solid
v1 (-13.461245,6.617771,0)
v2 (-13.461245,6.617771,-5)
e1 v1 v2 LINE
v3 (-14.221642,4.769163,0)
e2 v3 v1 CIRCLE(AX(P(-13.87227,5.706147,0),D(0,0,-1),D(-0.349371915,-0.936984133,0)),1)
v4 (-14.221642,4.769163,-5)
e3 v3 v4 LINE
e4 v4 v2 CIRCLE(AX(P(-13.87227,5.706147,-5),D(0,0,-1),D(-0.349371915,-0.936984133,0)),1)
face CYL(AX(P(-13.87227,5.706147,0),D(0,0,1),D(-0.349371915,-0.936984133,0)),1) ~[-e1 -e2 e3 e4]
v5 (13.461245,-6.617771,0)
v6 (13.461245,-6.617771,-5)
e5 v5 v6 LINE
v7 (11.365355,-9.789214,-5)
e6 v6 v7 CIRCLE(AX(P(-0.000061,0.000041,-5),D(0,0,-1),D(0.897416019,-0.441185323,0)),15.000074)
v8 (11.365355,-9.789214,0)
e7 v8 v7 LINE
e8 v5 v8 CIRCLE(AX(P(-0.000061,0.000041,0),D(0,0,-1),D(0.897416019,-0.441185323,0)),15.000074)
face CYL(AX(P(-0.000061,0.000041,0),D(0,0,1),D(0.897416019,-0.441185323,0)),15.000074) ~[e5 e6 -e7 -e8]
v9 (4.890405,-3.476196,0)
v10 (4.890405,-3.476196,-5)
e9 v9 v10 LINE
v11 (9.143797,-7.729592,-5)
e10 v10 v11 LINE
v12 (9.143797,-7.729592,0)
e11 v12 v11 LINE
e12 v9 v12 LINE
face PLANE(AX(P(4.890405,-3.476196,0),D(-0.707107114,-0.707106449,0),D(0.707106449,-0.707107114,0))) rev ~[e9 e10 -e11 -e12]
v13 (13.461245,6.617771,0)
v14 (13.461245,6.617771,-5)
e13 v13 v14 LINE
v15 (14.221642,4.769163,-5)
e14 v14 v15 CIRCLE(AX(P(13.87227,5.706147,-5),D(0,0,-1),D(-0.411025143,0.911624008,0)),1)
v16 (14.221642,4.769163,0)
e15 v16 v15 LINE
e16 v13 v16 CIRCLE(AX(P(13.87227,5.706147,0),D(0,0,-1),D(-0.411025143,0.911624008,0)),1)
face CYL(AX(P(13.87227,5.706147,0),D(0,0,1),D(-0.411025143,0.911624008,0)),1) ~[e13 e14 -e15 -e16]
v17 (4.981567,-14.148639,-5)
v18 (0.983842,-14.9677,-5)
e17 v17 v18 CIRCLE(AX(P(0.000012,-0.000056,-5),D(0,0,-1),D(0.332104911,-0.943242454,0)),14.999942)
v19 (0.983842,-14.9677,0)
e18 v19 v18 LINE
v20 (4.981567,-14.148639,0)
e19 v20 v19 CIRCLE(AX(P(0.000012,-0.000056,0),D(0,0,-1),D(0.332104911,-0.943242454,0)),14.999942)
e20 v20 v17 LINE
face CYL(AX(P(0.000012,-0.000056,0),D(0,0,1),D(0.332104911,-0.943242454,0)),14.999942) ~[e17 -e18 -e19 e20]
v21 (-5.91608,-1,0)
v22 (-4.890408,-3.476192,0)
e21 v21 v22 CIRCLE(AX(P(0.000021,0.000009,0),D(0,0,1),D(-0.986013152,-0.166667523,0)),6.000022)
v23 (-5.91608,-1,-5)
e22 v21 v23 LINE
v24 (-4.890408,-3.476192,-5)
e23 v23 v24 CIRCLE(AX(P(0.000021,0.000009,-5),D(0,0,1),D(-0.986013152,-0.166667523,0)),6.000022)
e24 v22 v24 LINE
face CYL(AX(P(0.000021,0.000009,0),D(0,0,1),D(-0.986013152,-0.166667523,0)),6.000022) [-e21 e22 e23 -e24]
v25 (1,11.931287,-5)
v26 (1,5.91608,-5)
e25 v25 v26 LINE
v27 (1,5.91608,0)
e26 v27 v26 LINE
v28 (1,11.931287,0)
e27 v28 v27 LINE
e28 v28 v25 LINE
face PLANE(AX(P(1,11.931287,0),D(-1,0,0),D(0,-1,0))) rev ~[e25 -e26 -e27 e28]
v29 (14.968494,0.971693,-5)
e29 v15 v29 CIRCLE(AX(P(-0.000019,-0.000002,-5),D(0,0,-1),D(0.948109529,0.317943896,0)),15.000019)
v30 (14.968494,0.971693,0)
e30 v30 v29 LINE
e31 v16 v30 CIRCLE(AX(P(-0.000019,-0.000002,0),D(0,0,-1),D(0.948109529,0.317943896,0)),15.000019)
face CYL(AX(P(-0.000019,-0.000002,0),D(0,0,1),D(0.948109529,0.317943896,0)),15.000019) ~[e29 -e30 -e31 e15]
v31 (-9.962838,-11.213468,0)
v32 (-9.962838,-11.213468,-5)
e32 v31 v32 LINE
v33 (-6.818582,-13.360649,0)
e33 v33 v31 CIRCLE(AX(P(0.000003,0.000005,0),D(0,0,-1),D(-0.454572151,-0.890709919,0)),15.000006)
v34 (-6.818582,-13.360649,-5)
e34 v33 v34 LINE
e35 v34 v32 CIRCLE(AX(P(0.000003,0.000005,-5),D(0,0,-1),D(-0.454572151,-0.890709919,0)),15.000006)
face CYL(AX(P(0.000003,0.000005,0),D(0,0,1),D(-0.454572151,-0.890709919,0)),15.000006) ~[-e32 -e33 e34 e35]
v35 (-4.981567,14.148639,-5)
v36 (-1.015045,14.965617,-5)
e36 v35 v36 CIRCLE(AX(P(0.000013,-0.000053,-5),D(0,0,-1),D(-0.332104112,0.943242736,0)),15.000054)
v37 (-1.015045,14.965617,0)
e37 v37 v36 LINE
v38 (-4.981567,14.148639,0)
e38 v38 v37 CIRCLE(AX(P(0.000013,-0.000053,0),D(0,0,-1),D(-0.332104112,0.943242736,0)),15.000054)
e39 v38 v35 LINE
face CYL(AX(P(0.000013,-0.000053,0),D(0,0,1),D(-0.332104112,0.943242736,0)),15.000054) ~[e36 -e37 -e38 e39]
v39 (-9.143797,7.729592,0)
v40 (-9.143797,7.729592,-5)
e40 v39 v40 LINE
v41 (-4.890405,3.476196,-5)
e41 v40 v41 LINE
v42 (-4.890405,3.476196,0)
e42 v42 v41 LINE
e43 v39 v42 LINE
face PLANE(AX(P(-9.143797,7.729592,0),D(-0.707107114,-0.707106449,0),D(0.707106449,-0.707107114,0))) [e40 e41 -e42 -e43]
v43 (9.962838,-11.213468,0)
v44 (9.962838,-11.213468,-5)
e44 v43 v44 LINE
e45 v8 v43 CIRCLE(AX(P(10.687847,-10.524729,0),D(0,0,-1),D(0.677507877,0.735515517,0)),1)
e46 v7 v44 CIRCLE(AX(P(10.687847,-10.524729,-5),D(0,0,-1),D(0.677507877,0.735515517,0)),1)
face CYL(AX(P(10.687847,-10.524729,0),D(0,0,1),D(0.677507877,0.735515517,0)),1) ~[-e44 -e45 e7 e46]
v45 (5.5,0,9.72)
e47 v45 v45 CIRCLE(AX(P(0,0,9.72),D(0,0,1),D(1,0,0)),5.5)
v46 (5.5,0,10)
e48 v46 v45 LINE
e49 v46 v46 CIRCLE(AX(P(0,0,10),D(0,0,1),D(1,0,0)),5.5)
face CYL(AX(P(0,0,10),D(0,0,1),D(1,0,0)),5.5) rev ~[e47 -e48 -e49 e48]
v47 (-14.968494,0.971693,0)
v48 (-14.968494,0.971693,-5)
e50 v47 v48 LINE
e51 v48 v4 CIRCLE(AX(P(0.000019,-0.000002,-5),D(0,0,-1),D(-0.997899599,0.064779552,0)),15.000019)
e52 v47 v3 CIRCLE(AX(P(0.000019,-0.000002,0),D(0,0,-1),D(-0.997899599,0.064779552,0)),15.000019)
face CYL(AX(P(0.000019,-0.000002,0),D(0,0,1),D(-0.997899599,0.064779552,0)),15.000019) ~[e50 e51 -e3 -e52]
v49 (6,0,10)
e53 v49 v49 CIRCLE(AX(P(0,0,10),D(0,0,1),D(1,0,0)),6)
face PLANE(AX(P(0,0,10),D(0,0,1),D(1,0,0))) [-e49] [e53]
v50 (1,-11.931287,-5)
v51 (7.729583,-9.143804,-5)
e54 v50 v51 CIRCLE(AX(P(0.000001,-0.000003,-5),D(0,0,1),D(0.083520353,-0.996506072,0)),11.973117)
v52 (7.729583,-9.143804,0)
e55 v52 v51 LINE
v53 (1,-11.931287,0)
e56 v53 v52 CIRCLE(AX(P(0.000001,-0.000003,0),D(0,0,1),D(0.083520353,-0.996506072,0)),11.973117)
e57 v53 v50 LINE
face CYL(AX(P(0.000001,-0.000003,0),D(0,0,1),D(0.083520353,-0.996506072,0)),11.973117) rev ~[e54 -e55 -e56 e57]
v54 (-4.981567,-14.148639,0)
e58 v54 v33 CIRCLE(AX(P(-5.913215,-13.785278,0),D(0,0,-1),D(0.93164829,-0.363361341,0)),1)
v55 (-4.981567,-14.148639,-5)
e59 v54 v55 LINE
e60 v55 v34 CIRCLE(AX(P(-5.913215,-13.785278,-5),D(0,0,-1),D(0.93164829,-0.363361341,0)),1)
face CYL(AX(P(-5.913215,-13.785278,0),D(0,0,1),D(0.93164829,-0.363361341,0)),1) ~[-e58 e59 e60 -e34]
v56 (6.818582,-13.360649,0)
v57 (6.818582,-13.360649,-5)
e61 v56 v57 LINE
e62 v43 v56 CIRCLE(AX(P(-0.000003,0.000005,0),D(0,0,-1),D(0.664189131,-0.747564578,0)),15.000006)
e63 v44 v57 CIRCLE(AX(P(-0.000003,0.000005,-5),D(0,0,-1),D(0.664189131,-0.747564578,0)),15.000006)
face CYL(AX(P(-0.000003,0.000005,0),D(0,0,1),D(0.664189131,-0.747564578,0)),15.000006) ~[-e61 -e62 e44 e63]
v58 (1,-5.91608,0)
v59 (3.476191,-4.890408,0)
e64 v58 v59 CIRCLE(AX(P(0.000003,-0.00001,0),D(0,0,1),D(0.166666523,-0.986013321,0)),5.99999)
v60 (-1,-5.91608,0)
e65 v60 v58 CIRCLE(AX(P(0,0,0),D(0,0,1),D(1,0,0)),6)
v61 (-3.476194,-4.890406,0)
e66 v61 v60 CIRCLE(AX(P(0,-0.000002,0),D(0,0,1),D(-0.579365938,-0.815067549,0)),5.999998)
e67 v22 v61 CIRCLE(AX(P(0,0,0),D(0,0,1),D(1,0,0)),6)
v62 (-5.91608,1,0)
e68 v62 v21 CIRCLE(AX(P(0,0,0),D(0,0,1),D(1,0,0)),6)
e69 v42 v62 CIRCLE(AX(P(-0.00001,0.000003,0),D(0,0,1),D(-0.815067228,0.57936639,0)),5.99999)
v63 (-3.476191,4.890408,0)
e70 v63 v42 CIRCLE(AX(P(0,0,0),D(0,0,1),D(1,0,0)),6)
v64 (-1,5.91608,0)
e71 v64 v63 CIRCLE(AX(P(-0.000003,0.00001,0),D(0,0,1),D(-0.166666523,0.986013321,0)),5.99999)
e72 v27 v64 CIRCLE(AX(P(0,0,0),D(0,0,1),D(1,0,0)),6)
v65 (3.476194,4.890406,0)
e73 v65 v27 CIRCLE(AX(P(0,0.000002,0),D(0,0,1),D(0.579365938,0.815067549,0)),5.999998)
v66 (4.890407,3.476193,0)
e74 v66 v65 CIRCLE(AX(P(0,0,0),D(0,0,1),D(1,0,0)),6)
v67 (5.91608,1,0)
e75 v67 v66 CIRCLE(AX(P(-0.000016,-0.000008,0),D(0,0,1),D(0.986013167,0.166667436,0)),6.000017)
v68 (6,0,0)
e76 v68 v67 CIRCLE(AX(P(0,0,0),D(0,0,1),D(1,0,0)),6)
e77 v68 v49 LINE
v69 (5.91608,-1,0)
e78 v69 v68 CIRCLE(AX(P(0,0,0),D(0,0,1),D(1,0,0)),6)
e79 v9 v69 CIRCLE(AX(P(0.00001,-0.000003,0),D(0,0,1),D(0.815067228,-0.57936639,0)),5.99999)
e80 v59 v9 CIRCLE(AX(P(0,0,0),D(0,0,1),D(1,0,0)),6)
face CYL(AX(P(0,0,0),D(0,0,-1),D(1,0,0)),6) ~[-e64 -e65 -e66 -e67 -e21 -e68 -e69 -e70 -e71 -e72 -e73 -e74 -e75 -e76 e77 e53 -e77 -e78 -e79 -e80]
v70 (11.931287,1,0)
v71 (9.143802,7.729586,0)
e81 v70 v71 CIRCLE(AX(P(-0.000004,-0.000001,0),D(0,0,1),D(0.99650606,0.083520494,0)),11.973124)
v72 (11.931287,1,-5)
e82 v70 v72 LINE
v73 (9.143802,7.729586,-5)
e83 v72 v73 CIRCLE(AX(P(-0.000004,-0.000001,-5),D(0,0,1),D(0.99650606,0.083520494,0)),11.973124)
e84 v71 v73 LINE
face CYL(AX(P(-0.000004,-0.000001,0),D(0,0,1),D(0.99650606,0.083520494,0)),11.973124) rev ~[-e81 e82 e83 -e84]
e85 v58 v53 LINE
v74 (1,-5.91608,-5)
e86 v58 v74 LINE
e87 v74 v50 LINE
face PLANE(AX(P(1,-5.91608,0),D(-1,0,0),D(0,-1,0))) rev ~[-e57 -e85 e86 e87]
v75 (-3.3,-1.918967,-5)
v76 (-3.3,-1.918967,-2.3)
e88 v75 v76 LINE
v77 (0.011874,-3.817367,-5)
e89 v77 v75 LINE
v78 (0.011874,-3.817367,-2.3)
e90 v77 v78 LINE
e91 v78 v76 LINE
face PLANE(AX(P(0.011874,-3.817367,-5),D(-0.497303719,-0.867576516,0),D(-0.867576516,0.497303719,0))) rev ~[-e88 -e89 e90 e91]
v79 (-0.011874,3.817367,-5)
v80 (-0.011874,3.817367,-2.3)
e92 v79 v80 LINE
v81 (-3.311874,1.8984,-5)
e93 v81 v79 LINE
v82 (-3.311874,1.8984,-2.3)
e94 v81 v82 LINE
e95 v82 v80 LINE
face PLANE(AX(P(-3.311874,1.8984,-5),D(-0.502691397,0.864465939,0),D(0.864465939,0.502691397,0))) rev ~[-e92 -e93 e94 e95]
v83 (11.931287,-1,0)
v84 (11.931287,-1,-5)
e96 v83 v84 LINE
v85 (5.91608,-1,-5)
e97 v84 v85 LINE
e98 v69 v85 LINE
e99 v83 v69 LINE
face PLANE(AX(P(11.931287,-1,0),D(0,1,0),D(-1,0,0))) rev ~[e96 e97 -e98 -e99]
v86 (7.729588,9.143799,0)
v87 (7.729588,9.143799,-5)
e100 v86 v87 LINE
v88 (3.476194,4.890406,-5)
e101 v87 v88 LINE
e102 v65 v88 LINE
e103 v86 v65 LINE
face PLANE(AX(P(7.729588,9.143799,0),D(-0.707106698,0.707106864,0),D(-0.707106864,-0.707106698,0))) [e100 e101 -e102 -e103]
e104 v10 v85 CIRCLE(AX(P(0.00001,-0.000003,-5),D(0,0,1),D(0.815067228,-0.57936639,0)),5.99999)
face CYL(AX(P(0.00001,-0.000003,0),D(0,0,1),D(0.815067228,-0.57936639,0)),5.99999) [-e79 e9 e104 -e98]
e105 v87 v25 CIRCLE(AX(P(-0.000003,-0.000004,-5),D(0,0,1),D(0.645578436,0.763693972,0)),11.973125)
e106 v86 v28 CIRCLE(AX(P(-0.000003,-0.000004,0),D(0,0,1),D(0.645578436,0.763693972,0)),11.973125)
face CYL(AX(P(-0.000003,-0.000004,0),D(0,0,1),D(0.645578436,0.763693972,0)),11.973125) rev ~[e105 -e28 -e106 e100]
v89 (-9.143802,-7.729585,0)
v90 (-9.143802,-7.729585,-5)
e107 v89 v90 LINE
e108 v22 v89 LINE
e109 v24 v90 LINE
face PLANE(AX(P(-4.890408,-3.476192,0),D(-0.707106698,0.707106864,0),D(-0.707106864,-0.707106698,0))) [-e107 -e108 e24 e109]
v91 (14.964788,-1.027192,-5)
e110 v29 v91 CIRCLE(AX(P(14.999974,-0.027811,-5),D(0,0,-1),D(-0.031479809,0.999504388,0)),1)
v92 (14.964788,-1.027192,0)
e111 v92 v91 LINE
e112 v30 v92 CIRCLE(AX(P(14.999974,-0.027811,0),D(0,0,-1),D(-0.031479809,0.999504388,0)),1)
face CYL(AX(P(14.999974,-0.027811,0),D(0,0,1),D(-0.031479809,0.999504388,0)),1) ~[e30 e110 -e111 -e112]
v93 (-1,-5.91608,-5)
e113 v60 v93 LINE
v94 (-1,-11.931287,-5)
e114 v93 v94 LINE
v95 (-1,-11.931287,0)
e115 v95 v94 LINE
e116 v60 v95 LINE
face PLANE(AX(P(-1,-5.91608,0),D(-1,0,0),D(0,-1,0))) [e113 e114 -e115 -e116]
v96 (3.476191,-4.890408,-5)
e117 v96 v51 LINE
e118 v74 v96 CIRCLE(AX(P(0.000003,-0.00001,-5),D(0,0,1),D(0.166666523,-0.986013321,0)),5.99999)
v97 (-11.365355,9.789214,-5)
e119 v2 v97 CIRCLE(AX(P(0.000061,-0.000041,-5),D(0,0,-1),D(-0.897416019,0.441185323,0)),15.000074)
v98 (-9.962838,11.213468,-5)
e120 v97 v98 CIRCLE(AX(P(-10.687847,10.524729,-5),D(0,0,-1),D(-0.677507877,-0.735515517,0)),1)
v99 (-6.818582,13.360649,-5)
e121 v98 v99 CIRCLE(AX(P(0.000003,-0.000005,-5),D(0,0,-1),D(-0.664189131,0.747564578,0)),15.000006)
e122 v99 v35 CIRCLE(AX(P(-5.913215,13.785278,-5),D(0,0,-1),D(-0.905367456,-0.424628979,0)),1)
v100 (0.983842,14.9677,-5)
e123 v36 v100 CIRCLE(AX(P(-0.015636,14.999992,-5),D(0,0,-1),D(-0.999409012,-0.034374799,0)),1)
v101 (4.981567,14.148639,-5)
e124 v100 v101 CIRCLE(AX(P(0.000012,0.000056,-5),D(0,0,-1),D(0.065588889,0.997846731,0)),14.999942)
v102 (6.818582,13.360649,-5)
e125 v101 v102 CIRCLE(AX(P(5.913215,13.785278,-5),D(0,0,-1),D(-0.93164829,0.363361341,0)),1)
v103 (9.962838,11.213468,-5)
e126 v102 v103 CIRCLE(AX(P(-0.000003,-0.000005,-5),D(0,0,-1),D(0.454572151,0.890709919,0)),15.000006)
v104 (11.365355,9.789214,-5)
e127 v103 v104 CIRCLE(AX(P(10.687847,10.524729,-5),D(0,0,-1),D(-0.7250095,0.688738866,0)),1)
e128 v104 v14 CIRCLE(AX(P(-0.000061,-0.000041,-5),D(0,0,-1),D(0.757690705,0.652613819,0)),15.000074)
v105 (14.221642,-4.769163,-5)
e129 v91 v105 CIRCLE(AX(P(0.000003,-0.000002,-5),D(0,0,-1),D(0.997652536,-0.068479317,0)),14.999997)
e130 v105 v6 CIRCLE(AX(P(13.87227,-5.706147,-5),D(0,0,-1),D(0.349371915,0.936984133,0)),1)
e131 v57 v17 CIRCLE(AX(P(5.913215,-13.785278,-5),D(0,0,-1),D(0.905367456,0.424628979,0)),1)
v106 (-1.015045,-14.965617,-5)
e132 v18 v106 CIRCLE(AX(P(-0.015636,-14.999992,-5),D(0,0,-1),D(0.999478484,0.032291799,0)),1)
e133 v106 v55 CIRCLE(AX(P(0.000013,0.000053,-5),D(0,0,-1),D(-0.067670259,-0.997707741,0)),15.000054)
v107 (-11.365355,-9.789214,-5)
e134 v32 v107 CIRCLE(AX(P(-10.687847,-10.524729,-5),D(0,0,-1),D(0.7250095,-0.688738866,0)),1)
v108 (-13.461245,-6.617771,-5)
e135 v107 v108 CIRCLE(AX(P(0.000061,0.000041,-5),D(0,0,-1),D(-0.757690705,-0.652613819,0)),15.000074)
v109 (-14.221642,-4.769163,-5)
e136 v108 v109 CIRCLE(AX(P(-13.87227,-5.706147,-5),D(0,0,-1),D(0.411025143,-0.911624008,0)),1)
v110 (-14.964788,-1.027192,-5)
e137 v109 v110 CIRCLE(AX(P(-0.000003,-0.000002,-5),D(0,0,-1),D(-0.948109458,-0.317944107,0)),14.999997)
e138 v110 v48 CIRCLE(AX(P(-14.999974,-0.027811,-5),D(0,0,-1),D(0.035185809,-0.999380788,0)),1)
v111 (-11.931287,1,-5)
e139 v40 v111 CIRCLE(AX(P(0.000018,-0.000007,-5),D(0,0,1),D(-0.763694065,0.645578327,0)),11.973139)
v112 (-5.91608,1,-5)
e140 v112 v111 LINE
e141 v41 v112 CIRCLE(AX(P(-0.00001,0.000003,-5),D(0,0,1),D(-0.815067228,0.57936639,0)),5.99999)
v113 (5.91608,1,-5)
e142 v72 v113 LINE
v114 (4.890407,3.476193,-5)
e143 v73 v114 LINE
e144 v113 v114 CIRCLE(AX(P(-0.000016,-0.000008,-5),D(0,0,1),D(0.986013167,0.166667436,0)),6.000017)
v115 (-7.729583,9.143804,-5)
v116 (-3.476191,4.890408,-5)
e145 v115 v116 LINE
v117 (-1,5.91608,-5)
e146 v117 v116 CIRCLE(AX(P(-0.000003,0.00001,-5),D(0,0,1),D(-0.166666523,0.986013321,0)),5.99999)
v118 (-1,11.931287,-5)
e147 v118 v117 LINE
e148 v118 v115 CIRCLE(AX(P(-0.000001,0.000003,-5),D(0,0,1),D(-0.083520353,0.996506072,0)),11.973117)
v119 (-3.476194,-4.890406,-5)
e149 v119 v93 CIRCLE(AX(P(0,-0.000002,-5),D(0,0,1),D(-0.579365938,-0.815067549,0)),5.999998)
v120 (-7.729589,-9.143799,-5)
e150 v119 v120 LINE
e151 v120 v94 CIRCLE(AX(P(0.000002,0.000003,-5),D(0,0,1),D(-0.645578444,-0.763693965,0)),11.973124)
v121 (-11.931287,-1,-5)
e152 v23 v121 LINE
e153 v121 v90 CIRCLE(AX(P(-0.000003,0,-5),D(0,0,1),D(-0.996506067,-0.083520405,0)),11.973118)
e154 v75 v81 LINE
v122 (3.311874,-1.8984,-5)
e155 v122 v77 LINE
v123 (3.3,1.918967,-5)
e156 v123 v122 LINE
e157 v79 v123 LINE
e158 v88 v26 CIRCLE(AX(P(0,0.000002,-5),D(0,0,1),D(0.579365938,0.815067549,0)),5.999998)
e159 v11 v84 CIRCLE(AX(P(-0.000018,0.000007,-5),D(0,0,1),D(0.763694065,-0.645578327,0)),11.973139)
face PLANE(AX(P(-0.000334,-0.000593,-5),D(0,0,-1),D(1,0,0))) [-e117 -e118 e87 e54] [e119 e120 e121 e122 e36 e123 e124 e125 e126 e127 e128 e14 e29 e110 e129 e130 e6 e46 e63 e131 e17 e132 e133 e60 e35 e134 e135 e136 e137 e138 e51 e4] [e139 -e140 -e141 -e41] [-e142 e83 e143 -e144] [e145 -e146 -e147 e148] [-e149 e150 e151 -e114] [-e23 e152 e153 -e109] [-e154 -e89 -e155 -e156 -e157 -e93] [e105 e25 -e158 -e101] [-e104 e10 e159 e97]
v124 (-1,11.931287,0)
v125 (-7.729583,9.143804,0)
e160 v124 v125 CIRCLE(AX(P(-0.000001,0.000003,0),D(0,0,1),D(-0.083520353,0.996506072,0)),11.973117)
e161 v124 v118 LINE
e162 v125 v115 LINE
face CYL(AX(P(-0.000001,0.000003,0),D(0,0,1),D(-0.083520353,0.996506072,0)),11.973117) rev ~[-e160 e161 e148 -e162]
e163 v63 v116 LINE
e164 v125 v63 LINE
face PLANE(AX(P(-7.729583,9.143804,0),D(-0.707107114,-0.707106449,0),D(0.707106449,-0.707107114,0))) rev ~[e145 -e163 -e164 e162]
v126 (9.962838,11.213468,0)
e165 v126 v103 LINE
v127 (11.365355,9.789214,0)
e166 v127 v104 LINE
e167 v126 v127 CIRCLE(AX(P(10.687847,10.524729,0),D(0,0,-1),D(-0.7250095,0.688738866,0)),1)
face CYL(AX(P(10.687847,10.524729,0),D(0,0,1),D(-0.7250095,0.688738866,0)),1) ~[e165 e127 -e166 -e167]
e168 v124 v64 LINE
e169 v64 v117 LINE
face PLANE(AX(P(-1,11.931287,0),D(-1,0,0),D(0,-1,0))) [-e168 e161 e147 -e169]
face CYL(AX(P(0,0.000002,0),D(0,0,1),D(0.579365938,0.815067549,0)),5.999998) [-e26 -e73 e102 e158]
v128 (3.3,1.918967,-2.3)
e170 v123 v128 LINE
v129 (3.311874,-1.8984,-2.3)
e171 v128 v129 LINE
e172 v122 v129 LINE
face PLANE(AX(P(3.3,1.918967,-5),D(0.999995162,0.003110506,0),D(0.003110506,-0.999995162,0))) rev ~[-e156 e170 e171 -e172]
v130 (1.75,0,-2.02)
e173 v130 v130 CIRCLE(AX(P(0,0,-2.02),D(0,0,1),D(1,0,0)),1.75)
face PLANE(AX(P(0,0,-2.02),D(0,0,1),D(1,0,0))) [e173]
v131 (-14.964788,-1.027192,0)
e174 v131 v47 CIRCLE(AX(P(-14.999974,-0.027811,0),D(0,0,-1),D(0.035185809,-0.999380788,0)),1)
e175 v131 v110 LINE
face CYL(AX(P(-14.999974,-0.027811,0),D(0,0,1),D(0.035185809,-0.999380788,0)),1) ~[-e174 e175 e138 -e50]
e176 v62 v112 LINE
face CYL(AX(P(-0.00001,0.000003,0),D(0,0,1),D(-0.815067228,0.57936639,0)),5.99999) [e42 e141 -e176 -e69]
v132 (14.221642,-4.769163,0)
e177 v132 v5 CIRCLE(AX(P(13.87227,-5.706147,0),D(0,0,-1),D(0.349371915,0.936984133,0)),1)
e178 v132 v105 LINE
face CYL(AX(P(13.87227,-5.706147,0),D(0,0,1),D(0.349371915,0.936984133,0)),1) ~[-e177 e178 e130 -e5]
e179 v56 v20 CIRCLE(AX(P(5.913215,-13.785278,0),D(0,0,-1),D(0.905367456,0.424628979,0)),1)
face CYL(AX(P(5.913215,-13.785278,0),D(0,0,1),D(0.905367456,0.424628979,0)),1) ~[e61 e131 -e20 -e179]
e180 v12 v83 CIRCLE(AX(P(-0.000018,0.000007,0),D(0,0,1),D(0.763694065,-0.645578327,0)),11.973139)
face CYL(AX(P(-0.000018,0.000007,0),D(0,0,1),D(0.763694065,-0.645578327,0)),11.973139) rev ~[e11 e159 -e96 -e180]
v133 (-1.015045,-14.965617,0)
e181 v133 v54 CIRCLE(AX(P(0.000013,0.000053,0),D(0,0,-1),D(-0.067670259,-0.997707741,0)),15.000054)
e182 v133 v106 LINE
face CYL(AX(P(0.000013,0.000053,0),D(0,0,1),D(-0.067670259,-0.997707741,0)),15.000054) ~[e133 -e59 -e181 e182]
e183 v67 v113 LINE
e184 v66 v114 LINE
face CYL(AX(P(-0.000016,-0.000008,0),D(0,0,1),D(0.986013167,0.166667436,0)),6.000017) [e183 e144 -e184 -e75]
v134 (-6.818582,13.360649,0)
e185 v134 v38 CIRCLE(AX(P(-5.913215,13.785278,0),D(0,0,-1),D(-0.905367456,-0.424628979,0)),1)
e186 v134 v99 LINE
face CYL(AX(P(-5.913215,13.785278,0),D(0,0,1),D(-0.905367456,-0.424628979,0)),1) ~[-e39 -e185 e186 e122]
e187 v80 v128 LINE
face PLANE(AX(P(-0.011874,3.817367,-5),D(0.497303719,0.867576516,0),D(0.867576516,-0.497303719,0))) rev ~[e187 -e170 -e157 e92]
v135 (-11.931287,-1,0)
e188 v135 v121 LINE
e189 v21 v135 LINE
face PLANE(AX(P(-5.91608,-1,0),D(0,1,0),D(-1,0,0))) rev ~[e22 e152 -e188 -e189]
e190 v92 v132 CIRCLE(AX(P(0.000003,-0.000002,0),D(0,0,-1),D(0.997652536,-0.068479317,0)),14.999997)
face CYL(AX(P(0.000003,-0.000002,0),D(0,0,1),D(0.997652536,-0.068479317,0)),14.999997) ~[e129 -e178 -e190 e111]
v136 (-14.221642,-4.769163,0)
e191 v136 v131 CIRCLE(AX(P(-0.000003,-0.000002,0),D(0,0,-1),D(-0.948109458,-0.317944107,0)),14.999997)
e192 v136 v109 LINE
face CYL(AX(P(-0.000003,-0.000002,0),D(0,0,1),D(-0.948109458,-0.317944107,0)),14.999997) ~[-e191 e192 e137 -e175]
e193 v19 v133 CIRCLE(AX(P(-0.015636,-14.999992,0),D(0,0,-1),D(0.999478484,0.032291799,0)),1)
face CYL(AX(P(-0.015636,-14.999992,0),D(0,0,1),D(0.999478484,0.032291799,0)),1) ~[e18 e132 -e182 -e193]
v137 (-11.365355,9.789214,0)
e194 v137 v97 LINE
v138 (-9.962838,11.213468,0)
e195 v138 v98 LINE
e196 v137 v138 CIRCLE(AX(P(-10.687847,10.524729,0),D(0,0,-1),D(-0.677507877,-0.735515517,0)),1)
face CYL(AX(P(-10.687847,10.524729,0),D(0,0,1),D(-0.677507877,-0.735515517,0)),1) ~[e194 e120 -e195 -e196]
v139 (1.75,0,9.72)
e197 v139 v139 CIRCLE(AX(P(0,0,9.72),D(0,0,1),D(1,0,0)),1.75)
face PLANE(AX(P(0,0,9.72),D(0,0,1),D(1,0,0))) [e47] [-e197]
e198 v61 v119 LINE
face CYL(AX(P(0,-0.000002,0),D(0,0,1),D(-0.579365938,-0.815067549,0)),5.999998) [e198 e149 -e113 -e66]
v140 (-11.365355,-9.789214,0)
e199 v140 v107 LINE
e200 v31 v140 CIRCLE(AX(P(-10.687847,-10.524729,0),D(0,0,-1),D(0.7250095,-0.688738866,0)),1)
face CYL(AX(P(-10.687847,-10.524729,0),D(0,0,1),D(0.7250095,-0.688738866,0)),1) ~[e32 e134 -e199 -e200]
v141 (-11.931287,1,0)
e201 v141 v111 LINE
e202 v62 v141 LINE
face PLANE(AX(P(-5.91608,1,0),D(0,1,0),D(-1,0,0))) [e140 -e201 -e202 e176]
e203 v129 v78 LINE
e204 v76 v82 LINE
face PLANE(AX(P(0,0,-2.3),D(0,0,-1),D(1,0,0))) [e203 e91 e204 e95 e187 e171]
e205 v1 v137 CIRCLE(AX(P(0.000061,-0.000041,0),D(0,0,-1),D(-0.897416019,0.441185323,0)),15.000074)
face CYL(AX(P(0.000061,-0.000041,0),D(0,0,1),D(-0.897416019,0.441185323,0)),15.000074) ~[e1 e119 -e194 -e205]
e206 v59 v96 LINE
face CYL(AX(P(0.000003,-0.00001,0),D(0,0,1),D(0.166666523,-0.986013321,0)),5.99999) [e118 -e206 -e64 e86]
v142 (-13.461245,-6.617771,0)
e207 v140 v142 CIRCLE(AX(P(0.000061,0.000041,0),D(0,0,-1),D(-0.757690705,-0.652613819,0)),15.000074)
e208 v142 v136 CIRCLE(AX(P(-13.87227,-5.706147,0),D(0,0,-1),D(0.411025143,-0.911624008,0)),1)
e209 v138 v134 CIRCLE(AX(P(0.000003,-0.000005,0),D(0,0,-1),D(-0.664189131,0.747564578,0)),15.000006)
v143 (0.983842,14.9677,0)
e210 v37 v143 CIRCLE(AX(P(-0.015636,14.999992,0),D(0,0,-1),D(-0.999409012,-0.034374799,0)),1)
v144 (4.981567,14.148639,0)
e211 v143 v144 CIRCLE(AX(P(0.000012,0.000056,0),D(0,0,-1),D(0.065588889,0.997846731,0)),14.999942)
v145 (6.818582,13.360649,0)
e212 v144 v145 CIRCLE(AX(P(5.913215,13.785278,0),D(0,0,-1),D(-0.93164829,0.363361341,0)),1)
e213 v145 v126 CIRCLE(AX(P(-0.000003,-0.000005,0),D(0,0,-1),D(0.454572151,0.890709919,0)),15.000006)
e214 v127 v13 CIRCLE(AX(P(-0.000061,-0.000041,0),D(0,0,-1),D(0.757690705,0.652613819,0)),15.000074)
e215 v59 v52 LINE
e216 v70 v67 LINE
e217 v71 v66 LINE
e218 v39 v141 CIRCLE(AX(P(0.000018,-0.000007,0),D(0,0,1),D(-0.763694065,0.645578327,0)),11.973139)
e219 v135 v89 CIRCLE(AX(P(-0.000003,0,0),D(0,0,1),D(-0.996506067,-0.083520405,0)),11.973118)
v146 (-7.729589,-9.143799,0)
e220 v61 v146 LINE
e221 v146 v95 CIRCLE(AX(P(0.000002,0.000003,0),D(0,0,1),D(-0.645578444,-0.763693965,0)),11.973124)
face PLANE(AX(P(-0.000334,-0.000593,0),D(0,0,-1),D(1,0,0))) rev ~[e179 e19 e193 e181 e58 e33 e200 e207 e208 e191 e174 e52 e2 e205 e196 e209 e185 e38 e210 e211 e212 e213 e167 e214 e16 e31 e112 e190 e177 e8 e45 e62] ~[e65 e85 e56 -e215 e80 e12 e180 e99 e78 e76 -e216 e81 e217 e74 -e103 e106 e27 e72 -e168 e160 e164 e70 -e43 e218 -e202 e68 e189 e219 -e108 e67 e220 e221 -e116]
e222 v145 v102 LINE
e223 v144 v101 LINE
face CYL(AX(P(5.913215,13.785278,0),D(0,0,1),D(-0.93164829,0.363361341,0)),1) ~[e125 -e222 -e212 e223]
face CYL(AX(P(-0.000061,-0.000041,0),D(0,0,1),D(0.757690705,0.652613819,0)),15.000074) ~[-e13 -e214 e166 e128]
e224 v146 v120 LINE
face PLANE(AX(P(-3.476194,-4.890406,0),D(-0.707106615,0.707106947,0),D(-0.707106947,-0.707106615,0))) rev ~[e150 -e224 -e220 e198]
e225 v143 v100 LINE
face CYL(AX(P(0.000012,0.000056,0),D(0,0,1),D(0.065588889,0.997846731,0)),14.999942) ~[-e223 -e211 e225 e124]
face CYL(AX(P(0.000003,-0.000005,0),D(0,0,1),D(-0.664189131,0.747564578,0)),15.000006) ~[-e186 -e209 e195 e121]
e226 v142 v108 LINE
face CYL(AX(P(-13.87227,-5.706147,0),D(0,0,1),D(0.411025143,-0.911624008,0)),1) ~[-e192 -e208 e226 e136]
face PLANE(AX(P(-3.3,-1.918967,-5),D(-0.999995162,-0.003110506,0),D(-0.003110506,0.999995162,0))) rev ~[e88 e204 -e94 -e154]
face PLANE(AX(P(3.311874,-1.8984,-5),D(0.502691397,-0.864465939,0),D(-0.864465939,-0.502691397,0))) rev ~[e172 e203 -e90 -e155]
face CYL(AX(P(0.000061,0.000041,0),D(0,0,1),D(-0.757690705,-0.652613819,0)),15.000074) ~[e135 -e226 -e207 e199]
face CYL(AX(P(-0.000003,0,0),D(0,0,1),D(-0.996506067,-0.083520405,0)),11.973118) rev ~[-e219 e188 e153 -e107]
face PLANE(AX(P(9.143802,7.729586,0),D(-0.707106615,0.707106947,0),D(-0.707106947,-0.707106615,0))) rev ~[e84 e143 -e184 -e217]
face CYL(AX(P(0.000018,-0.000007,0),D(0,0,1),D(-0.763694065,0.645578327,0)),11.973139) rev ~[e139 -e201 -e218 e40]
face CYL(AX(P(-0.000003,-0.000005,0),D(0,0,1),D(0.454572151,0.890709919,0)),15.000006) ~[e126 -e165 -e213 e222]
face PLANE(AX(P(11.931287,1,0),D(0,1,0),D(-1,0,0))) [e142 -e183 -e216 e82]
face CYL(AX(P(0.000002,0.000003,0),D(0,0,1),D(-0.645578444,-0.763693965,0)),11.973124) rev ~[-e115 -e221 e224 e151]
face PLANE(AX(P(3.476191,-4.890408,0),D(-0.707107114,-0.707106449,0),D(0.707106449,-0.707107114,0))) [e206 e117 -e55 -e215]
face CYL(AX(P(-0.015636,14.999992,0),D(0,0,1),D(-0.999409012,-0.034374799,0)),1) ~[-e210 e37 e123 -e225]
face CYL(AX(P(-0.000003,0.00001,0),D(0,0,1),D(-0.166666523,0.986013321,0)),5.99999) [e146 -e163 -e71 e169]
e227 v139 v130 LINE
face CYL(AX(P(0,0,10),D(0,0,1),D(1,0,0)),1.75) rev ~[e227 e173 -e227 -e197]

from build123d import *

# Parameters (mm, degrees)
PAD_DEPTH       = 5
POCKET_DEPTH    = 5
POCKET001_DEPTH = 2.7
SKETCH001_R     = 6
PAD001_DEPTH    = 10
SKETCH003_R     = 1.75
POCKET002_DEPTH = 15.001
SKETCH_R        = 5.5
POCKET003_DEPTH = 0.28
SKETCH008_R     = 3.108339
PAD002_DEPTH    = 0.28


with BuildPart() as part:
    # Sketch002 → Pad (new body)
    with BuildSketch(Plane(origin=(0, 0, 0), x_dir=(1, 0, 0), z_dir=(0, 0, -1))):
        with BuildLine():
            ThreePointArc((-6.818582, 13.360649), (-8.459114, 12.387227), (-9.962838, 11.213468))
            ThreePointArc((-9.962838, 11.213468), (-11.40037, 11.226378), (-11.365355, 9.789214))
            ThreePointArc((-11.365355, 9.789214), (-12.514173, 8.270155), (-13.461245, 6.617771))
            ThreePointArc((-13.461245, 6.617771), (-14.797088, 6.086557), (-14.221642, 4.769163))
            ThreePointArc((-14.221642, 4.769163), (-14.712665, 2.9219), (-14.964788, 1.027192))
            ThreePointArc((-14.964788, 1.027192), (-15.999972, 0.029665), (-14.968494, -0.971693))
            ThreePointArc((-14.968494, -0.971693), (-14.718057, -2.894616), (-14.221642, -4.769163))
            ThreePointArc((-14.221642, -4.769163), (-14.797088, -6.086557), (-13.461245, -6.617771))
            ThreePointArc((-13.461245, -6.617771), (-12.514173, -8.270155), (-11.365355, -9.789214))
            ThreePointArc((-11.365355, -9.789214), (-11.40037, -11.226378), (-9.962838, -11.213468))
            ThreePointArc((-9.962838, -11.213468), (-8.459114, -12.387227), (-6.818582, -13.360649))
            ThreePointArc((-6.818582, -13.360649), (-6.307429, -14.704296), (-4.981567, -14.148639))
            ThreePointArc((-4.981567, -14.148639), (-3.026004, -14.691606), (-1.015045, -14.965617))
            ThreePointArc((-1.015045, -14.965617), (-0.016678, -15.999991), (0.983842, -14.9677))
            ThreePointArc((0.983842, -14.9677), (3.010688, -14.694753), (4.981567, -14.148639))
            ThreePointArc((4.981567, -14.148639), (6.307429, -14.704296), (6.818582, -13.360649))
            ThreePointArc((6.818582, -13.360649), (8.459114, -12.387227), (9.962838, -11.213468))
            ThreePointArc((9.962838, -11.213468), (11.40037, -11.226378), (11.365355, -9.789214))
            ThreePointArc((11.365355, -9.789214), (12.514173, -8.270155), (13.461245, -6.617771))
            ThreePointArc((13.461245, -6.617771), (14.797088, -6.086557), (14.221642, -4.769163))
            ThreePointArc((14.221642, -4.769163), (14.718057, -2.894616), (14.968494, -0.971693))
            ThreePointArc((14.968494, -0.971693), (15.999972, 0.029665), (14.964788, 1.027192))
            ThreePointArc((14.964788, 1.027192), (14.712665, 2.9219), (14.221642, 4.769163))
            ThreePointArc((14.221642, 4.769163), (14.797088, 6.086557), (13.461245, 6.617771))
            ThreePointArc((13.461245, 6.617771), (12.514173, 8.270155), (11.365355, 9.789214))
            ThreePointArc((11.365355, 9.789214), (11.40037, 11.226378), (9.962838, 11.213468))
            ThreePointArc((9.962838, 11.213468), (8.459114, 12.387227), (6.818582, 13.360649))
            ThreePointArc((6.818582, 13.360649), (6.307429, 14.704296), (4.981567, 14.148639))
            ThreePointArc((4.981567, 14.148639), (3.010688, 14.694753), (0.983842, 14.9677))
            ThreePointArc((0.983842, 14.9677), (-0.016678, 15.999991), (-1.015045, 14.965617))
            ThreePointArc((-1.015045, 14.965617), (-3.026004, 14.691606), (-4.981567, 14.148639))
            ThreePointArc((-4.981567, 14.148639), (-6.307429, 14.704296), (-6.818582, 13.360649))
        make_face()
    extrude(amount=PAD_DEPTH)

    # Sketch006 → Pocket (cut)
    with BuildSketch(Plane.XY):
        with BuildLine():
            ThreePointArc((-9.143797, 7.729592), (-11.061719, 4.581917), (-11.931287, 1))
            Line((-5.91608, 1), (-11.931287, 1))
            ThreePointArc((-4.890405, 3.476196), (-5.543277, 2.296102), (-5.91608, 1))
            Line((-9.143797, 7.729592), (-4.890405, 3.476196))
        make_face()
        with BuildLine():
            ThreePointArc((-11.931287, -1), (-11.061721, -4.581914), (-9.143802, -7.729585))
            Line((-4.890408, -3.476192), (-9.143802, -7.729585))
            ThreePointArc((-5.91608, -1), (-5.543277, -2.2961), (-4.890408, -3.476192))
            Line((-5.91608, -1), (-11.931287, -1))
        make_face()
        with BuildLine():
            ThreePointArc((-1, 11.931287), (-4.581912, 11.061722), (-7.729583, 9.143804))
            Line((-7.729583, 9.143804), (-3.476191, 4.890408))
            ThreePointArc((-1, 5.91608), (-2.296099, 5.543278), (-3.476191, 4.890408))
            Line((-1, 11.931287), (-1, 5.91608))
        make_face()
        with BuildLine():
            ThreePointArc((7.729588, 9.143799), (4.581915, 11.06172), (1, 11.931287))
            Line((1, 11.931287), (1, 5.91608))
            ThreePointArc((3.476194, 4.890406), (2.296101, 5.543277), (1, 5.91608))
            Line((7.729588, 9.143799), (3.476194, 4.890406))
        make_face()
        with BuildLine():
            ThreePointArc((9.143797, -7.729592), (11.061719, -4.581917), (11.931287, -1))
            Line((11.931287, -1), (5.91608, -1))
            ThreePointArc((4.890405, -3.476196), (5.543277, -2.296102), (5.91608, -1))
            Line((4.890405, -3.476196), (9.143797, -7.729592))
        make_face()
        with BuildLine():
            ThreePointArc((1, -11.931287), (4.581912, -11.061722), (7.729583, -9.143804))
            Line((3.476191, -4.890408), (7.729583, -9.143804))
            ThreePointArc((1, -5.91608), (2.296099, -5.543278), (3.476191, -4.890408))
            Line((1, -5.91608), (1, -11.931287))
        make_face()
        with BuildLine():
            ThreePointArc((-7.729589, -9.143799), (-4.581916, -11.06172), (-1, -11.931287))
            Line((-1, -5.91608), (-1, -11.931287))
            ThreePointArc((-3.476194, -4.890406), (-2.296101, -5.543277), (-1, -5.91608))
            Line((-3.476194, -4.890406), (-7.729589, -9.143799))
        make_face()
        with BuildLine():
            ThreePointArc((11.931287, 1), (11.061721, 4.581914), (9.143802, 7.729586))
            Line((9.143802, 7.729586), (4.890407, 3.476193))
            ThreePointArc((5.91608, 1), (5.543277, 2.2961), (4.890407, 3.476193))
            Line((11.931287, 1), (5.91608, 1))
        make_face()
    extrude(amount=-POCKET_DEPTH, mode=Mode.SUBTRACT)

    # Sketch007 (on Face34 of Pad) → Pocket001 (cut)
    with BuildSketch(Plane(origin=(0, 0, -5), x_dir=(1, 0, 0), z_dir=(0, 0, -1))):
        Polygon((3.3, -1.918967), (3.311874, 1.8984), (0.011874, 3.817367), (-3.3, 1.918967), (-3.311874, -1.8984), (-0.011874, -3.817367), align=None)
    extrude(amount=-POCKET001_DEPTH, mode=Mode.SUBTRACT)

    # Sketch001 (on Face33 of Pad) → Pad001 (join)
    with BuildSketch(Plane.XY):
        Circle(SKETCH001_R)
    extrude(amount=PAD001_DEPTH)

    # Sketch003 (on Face74 of Pad001) → Pocket002 (cut, through all)
    with BuildSketch(Plane.XY.offset(10)):
        Circle(SKETCH003_R)
    extrude(amount=-POCKET002_DEPTH, mode=Mode.SUBTRACT)

    # Sketch (on Face74 of Pocket002) → Pocket003 (cut)
    with BuildSketch(Plane.XY.offset(10)):
        Circle(SKETCH_R)
    extrude(amount=-POCKET003_DEPTH, mode=Mode.SUBTRACT)

    # Sketch008 (on Face4 of Pocket003) → Pad002 (join)
    with BuildSketch(Plane.XY.offset(-2.3)):
        Circle(SKETCH008_R)
    extrude(amount=PAD002_DEPTH)


solid = part.part
